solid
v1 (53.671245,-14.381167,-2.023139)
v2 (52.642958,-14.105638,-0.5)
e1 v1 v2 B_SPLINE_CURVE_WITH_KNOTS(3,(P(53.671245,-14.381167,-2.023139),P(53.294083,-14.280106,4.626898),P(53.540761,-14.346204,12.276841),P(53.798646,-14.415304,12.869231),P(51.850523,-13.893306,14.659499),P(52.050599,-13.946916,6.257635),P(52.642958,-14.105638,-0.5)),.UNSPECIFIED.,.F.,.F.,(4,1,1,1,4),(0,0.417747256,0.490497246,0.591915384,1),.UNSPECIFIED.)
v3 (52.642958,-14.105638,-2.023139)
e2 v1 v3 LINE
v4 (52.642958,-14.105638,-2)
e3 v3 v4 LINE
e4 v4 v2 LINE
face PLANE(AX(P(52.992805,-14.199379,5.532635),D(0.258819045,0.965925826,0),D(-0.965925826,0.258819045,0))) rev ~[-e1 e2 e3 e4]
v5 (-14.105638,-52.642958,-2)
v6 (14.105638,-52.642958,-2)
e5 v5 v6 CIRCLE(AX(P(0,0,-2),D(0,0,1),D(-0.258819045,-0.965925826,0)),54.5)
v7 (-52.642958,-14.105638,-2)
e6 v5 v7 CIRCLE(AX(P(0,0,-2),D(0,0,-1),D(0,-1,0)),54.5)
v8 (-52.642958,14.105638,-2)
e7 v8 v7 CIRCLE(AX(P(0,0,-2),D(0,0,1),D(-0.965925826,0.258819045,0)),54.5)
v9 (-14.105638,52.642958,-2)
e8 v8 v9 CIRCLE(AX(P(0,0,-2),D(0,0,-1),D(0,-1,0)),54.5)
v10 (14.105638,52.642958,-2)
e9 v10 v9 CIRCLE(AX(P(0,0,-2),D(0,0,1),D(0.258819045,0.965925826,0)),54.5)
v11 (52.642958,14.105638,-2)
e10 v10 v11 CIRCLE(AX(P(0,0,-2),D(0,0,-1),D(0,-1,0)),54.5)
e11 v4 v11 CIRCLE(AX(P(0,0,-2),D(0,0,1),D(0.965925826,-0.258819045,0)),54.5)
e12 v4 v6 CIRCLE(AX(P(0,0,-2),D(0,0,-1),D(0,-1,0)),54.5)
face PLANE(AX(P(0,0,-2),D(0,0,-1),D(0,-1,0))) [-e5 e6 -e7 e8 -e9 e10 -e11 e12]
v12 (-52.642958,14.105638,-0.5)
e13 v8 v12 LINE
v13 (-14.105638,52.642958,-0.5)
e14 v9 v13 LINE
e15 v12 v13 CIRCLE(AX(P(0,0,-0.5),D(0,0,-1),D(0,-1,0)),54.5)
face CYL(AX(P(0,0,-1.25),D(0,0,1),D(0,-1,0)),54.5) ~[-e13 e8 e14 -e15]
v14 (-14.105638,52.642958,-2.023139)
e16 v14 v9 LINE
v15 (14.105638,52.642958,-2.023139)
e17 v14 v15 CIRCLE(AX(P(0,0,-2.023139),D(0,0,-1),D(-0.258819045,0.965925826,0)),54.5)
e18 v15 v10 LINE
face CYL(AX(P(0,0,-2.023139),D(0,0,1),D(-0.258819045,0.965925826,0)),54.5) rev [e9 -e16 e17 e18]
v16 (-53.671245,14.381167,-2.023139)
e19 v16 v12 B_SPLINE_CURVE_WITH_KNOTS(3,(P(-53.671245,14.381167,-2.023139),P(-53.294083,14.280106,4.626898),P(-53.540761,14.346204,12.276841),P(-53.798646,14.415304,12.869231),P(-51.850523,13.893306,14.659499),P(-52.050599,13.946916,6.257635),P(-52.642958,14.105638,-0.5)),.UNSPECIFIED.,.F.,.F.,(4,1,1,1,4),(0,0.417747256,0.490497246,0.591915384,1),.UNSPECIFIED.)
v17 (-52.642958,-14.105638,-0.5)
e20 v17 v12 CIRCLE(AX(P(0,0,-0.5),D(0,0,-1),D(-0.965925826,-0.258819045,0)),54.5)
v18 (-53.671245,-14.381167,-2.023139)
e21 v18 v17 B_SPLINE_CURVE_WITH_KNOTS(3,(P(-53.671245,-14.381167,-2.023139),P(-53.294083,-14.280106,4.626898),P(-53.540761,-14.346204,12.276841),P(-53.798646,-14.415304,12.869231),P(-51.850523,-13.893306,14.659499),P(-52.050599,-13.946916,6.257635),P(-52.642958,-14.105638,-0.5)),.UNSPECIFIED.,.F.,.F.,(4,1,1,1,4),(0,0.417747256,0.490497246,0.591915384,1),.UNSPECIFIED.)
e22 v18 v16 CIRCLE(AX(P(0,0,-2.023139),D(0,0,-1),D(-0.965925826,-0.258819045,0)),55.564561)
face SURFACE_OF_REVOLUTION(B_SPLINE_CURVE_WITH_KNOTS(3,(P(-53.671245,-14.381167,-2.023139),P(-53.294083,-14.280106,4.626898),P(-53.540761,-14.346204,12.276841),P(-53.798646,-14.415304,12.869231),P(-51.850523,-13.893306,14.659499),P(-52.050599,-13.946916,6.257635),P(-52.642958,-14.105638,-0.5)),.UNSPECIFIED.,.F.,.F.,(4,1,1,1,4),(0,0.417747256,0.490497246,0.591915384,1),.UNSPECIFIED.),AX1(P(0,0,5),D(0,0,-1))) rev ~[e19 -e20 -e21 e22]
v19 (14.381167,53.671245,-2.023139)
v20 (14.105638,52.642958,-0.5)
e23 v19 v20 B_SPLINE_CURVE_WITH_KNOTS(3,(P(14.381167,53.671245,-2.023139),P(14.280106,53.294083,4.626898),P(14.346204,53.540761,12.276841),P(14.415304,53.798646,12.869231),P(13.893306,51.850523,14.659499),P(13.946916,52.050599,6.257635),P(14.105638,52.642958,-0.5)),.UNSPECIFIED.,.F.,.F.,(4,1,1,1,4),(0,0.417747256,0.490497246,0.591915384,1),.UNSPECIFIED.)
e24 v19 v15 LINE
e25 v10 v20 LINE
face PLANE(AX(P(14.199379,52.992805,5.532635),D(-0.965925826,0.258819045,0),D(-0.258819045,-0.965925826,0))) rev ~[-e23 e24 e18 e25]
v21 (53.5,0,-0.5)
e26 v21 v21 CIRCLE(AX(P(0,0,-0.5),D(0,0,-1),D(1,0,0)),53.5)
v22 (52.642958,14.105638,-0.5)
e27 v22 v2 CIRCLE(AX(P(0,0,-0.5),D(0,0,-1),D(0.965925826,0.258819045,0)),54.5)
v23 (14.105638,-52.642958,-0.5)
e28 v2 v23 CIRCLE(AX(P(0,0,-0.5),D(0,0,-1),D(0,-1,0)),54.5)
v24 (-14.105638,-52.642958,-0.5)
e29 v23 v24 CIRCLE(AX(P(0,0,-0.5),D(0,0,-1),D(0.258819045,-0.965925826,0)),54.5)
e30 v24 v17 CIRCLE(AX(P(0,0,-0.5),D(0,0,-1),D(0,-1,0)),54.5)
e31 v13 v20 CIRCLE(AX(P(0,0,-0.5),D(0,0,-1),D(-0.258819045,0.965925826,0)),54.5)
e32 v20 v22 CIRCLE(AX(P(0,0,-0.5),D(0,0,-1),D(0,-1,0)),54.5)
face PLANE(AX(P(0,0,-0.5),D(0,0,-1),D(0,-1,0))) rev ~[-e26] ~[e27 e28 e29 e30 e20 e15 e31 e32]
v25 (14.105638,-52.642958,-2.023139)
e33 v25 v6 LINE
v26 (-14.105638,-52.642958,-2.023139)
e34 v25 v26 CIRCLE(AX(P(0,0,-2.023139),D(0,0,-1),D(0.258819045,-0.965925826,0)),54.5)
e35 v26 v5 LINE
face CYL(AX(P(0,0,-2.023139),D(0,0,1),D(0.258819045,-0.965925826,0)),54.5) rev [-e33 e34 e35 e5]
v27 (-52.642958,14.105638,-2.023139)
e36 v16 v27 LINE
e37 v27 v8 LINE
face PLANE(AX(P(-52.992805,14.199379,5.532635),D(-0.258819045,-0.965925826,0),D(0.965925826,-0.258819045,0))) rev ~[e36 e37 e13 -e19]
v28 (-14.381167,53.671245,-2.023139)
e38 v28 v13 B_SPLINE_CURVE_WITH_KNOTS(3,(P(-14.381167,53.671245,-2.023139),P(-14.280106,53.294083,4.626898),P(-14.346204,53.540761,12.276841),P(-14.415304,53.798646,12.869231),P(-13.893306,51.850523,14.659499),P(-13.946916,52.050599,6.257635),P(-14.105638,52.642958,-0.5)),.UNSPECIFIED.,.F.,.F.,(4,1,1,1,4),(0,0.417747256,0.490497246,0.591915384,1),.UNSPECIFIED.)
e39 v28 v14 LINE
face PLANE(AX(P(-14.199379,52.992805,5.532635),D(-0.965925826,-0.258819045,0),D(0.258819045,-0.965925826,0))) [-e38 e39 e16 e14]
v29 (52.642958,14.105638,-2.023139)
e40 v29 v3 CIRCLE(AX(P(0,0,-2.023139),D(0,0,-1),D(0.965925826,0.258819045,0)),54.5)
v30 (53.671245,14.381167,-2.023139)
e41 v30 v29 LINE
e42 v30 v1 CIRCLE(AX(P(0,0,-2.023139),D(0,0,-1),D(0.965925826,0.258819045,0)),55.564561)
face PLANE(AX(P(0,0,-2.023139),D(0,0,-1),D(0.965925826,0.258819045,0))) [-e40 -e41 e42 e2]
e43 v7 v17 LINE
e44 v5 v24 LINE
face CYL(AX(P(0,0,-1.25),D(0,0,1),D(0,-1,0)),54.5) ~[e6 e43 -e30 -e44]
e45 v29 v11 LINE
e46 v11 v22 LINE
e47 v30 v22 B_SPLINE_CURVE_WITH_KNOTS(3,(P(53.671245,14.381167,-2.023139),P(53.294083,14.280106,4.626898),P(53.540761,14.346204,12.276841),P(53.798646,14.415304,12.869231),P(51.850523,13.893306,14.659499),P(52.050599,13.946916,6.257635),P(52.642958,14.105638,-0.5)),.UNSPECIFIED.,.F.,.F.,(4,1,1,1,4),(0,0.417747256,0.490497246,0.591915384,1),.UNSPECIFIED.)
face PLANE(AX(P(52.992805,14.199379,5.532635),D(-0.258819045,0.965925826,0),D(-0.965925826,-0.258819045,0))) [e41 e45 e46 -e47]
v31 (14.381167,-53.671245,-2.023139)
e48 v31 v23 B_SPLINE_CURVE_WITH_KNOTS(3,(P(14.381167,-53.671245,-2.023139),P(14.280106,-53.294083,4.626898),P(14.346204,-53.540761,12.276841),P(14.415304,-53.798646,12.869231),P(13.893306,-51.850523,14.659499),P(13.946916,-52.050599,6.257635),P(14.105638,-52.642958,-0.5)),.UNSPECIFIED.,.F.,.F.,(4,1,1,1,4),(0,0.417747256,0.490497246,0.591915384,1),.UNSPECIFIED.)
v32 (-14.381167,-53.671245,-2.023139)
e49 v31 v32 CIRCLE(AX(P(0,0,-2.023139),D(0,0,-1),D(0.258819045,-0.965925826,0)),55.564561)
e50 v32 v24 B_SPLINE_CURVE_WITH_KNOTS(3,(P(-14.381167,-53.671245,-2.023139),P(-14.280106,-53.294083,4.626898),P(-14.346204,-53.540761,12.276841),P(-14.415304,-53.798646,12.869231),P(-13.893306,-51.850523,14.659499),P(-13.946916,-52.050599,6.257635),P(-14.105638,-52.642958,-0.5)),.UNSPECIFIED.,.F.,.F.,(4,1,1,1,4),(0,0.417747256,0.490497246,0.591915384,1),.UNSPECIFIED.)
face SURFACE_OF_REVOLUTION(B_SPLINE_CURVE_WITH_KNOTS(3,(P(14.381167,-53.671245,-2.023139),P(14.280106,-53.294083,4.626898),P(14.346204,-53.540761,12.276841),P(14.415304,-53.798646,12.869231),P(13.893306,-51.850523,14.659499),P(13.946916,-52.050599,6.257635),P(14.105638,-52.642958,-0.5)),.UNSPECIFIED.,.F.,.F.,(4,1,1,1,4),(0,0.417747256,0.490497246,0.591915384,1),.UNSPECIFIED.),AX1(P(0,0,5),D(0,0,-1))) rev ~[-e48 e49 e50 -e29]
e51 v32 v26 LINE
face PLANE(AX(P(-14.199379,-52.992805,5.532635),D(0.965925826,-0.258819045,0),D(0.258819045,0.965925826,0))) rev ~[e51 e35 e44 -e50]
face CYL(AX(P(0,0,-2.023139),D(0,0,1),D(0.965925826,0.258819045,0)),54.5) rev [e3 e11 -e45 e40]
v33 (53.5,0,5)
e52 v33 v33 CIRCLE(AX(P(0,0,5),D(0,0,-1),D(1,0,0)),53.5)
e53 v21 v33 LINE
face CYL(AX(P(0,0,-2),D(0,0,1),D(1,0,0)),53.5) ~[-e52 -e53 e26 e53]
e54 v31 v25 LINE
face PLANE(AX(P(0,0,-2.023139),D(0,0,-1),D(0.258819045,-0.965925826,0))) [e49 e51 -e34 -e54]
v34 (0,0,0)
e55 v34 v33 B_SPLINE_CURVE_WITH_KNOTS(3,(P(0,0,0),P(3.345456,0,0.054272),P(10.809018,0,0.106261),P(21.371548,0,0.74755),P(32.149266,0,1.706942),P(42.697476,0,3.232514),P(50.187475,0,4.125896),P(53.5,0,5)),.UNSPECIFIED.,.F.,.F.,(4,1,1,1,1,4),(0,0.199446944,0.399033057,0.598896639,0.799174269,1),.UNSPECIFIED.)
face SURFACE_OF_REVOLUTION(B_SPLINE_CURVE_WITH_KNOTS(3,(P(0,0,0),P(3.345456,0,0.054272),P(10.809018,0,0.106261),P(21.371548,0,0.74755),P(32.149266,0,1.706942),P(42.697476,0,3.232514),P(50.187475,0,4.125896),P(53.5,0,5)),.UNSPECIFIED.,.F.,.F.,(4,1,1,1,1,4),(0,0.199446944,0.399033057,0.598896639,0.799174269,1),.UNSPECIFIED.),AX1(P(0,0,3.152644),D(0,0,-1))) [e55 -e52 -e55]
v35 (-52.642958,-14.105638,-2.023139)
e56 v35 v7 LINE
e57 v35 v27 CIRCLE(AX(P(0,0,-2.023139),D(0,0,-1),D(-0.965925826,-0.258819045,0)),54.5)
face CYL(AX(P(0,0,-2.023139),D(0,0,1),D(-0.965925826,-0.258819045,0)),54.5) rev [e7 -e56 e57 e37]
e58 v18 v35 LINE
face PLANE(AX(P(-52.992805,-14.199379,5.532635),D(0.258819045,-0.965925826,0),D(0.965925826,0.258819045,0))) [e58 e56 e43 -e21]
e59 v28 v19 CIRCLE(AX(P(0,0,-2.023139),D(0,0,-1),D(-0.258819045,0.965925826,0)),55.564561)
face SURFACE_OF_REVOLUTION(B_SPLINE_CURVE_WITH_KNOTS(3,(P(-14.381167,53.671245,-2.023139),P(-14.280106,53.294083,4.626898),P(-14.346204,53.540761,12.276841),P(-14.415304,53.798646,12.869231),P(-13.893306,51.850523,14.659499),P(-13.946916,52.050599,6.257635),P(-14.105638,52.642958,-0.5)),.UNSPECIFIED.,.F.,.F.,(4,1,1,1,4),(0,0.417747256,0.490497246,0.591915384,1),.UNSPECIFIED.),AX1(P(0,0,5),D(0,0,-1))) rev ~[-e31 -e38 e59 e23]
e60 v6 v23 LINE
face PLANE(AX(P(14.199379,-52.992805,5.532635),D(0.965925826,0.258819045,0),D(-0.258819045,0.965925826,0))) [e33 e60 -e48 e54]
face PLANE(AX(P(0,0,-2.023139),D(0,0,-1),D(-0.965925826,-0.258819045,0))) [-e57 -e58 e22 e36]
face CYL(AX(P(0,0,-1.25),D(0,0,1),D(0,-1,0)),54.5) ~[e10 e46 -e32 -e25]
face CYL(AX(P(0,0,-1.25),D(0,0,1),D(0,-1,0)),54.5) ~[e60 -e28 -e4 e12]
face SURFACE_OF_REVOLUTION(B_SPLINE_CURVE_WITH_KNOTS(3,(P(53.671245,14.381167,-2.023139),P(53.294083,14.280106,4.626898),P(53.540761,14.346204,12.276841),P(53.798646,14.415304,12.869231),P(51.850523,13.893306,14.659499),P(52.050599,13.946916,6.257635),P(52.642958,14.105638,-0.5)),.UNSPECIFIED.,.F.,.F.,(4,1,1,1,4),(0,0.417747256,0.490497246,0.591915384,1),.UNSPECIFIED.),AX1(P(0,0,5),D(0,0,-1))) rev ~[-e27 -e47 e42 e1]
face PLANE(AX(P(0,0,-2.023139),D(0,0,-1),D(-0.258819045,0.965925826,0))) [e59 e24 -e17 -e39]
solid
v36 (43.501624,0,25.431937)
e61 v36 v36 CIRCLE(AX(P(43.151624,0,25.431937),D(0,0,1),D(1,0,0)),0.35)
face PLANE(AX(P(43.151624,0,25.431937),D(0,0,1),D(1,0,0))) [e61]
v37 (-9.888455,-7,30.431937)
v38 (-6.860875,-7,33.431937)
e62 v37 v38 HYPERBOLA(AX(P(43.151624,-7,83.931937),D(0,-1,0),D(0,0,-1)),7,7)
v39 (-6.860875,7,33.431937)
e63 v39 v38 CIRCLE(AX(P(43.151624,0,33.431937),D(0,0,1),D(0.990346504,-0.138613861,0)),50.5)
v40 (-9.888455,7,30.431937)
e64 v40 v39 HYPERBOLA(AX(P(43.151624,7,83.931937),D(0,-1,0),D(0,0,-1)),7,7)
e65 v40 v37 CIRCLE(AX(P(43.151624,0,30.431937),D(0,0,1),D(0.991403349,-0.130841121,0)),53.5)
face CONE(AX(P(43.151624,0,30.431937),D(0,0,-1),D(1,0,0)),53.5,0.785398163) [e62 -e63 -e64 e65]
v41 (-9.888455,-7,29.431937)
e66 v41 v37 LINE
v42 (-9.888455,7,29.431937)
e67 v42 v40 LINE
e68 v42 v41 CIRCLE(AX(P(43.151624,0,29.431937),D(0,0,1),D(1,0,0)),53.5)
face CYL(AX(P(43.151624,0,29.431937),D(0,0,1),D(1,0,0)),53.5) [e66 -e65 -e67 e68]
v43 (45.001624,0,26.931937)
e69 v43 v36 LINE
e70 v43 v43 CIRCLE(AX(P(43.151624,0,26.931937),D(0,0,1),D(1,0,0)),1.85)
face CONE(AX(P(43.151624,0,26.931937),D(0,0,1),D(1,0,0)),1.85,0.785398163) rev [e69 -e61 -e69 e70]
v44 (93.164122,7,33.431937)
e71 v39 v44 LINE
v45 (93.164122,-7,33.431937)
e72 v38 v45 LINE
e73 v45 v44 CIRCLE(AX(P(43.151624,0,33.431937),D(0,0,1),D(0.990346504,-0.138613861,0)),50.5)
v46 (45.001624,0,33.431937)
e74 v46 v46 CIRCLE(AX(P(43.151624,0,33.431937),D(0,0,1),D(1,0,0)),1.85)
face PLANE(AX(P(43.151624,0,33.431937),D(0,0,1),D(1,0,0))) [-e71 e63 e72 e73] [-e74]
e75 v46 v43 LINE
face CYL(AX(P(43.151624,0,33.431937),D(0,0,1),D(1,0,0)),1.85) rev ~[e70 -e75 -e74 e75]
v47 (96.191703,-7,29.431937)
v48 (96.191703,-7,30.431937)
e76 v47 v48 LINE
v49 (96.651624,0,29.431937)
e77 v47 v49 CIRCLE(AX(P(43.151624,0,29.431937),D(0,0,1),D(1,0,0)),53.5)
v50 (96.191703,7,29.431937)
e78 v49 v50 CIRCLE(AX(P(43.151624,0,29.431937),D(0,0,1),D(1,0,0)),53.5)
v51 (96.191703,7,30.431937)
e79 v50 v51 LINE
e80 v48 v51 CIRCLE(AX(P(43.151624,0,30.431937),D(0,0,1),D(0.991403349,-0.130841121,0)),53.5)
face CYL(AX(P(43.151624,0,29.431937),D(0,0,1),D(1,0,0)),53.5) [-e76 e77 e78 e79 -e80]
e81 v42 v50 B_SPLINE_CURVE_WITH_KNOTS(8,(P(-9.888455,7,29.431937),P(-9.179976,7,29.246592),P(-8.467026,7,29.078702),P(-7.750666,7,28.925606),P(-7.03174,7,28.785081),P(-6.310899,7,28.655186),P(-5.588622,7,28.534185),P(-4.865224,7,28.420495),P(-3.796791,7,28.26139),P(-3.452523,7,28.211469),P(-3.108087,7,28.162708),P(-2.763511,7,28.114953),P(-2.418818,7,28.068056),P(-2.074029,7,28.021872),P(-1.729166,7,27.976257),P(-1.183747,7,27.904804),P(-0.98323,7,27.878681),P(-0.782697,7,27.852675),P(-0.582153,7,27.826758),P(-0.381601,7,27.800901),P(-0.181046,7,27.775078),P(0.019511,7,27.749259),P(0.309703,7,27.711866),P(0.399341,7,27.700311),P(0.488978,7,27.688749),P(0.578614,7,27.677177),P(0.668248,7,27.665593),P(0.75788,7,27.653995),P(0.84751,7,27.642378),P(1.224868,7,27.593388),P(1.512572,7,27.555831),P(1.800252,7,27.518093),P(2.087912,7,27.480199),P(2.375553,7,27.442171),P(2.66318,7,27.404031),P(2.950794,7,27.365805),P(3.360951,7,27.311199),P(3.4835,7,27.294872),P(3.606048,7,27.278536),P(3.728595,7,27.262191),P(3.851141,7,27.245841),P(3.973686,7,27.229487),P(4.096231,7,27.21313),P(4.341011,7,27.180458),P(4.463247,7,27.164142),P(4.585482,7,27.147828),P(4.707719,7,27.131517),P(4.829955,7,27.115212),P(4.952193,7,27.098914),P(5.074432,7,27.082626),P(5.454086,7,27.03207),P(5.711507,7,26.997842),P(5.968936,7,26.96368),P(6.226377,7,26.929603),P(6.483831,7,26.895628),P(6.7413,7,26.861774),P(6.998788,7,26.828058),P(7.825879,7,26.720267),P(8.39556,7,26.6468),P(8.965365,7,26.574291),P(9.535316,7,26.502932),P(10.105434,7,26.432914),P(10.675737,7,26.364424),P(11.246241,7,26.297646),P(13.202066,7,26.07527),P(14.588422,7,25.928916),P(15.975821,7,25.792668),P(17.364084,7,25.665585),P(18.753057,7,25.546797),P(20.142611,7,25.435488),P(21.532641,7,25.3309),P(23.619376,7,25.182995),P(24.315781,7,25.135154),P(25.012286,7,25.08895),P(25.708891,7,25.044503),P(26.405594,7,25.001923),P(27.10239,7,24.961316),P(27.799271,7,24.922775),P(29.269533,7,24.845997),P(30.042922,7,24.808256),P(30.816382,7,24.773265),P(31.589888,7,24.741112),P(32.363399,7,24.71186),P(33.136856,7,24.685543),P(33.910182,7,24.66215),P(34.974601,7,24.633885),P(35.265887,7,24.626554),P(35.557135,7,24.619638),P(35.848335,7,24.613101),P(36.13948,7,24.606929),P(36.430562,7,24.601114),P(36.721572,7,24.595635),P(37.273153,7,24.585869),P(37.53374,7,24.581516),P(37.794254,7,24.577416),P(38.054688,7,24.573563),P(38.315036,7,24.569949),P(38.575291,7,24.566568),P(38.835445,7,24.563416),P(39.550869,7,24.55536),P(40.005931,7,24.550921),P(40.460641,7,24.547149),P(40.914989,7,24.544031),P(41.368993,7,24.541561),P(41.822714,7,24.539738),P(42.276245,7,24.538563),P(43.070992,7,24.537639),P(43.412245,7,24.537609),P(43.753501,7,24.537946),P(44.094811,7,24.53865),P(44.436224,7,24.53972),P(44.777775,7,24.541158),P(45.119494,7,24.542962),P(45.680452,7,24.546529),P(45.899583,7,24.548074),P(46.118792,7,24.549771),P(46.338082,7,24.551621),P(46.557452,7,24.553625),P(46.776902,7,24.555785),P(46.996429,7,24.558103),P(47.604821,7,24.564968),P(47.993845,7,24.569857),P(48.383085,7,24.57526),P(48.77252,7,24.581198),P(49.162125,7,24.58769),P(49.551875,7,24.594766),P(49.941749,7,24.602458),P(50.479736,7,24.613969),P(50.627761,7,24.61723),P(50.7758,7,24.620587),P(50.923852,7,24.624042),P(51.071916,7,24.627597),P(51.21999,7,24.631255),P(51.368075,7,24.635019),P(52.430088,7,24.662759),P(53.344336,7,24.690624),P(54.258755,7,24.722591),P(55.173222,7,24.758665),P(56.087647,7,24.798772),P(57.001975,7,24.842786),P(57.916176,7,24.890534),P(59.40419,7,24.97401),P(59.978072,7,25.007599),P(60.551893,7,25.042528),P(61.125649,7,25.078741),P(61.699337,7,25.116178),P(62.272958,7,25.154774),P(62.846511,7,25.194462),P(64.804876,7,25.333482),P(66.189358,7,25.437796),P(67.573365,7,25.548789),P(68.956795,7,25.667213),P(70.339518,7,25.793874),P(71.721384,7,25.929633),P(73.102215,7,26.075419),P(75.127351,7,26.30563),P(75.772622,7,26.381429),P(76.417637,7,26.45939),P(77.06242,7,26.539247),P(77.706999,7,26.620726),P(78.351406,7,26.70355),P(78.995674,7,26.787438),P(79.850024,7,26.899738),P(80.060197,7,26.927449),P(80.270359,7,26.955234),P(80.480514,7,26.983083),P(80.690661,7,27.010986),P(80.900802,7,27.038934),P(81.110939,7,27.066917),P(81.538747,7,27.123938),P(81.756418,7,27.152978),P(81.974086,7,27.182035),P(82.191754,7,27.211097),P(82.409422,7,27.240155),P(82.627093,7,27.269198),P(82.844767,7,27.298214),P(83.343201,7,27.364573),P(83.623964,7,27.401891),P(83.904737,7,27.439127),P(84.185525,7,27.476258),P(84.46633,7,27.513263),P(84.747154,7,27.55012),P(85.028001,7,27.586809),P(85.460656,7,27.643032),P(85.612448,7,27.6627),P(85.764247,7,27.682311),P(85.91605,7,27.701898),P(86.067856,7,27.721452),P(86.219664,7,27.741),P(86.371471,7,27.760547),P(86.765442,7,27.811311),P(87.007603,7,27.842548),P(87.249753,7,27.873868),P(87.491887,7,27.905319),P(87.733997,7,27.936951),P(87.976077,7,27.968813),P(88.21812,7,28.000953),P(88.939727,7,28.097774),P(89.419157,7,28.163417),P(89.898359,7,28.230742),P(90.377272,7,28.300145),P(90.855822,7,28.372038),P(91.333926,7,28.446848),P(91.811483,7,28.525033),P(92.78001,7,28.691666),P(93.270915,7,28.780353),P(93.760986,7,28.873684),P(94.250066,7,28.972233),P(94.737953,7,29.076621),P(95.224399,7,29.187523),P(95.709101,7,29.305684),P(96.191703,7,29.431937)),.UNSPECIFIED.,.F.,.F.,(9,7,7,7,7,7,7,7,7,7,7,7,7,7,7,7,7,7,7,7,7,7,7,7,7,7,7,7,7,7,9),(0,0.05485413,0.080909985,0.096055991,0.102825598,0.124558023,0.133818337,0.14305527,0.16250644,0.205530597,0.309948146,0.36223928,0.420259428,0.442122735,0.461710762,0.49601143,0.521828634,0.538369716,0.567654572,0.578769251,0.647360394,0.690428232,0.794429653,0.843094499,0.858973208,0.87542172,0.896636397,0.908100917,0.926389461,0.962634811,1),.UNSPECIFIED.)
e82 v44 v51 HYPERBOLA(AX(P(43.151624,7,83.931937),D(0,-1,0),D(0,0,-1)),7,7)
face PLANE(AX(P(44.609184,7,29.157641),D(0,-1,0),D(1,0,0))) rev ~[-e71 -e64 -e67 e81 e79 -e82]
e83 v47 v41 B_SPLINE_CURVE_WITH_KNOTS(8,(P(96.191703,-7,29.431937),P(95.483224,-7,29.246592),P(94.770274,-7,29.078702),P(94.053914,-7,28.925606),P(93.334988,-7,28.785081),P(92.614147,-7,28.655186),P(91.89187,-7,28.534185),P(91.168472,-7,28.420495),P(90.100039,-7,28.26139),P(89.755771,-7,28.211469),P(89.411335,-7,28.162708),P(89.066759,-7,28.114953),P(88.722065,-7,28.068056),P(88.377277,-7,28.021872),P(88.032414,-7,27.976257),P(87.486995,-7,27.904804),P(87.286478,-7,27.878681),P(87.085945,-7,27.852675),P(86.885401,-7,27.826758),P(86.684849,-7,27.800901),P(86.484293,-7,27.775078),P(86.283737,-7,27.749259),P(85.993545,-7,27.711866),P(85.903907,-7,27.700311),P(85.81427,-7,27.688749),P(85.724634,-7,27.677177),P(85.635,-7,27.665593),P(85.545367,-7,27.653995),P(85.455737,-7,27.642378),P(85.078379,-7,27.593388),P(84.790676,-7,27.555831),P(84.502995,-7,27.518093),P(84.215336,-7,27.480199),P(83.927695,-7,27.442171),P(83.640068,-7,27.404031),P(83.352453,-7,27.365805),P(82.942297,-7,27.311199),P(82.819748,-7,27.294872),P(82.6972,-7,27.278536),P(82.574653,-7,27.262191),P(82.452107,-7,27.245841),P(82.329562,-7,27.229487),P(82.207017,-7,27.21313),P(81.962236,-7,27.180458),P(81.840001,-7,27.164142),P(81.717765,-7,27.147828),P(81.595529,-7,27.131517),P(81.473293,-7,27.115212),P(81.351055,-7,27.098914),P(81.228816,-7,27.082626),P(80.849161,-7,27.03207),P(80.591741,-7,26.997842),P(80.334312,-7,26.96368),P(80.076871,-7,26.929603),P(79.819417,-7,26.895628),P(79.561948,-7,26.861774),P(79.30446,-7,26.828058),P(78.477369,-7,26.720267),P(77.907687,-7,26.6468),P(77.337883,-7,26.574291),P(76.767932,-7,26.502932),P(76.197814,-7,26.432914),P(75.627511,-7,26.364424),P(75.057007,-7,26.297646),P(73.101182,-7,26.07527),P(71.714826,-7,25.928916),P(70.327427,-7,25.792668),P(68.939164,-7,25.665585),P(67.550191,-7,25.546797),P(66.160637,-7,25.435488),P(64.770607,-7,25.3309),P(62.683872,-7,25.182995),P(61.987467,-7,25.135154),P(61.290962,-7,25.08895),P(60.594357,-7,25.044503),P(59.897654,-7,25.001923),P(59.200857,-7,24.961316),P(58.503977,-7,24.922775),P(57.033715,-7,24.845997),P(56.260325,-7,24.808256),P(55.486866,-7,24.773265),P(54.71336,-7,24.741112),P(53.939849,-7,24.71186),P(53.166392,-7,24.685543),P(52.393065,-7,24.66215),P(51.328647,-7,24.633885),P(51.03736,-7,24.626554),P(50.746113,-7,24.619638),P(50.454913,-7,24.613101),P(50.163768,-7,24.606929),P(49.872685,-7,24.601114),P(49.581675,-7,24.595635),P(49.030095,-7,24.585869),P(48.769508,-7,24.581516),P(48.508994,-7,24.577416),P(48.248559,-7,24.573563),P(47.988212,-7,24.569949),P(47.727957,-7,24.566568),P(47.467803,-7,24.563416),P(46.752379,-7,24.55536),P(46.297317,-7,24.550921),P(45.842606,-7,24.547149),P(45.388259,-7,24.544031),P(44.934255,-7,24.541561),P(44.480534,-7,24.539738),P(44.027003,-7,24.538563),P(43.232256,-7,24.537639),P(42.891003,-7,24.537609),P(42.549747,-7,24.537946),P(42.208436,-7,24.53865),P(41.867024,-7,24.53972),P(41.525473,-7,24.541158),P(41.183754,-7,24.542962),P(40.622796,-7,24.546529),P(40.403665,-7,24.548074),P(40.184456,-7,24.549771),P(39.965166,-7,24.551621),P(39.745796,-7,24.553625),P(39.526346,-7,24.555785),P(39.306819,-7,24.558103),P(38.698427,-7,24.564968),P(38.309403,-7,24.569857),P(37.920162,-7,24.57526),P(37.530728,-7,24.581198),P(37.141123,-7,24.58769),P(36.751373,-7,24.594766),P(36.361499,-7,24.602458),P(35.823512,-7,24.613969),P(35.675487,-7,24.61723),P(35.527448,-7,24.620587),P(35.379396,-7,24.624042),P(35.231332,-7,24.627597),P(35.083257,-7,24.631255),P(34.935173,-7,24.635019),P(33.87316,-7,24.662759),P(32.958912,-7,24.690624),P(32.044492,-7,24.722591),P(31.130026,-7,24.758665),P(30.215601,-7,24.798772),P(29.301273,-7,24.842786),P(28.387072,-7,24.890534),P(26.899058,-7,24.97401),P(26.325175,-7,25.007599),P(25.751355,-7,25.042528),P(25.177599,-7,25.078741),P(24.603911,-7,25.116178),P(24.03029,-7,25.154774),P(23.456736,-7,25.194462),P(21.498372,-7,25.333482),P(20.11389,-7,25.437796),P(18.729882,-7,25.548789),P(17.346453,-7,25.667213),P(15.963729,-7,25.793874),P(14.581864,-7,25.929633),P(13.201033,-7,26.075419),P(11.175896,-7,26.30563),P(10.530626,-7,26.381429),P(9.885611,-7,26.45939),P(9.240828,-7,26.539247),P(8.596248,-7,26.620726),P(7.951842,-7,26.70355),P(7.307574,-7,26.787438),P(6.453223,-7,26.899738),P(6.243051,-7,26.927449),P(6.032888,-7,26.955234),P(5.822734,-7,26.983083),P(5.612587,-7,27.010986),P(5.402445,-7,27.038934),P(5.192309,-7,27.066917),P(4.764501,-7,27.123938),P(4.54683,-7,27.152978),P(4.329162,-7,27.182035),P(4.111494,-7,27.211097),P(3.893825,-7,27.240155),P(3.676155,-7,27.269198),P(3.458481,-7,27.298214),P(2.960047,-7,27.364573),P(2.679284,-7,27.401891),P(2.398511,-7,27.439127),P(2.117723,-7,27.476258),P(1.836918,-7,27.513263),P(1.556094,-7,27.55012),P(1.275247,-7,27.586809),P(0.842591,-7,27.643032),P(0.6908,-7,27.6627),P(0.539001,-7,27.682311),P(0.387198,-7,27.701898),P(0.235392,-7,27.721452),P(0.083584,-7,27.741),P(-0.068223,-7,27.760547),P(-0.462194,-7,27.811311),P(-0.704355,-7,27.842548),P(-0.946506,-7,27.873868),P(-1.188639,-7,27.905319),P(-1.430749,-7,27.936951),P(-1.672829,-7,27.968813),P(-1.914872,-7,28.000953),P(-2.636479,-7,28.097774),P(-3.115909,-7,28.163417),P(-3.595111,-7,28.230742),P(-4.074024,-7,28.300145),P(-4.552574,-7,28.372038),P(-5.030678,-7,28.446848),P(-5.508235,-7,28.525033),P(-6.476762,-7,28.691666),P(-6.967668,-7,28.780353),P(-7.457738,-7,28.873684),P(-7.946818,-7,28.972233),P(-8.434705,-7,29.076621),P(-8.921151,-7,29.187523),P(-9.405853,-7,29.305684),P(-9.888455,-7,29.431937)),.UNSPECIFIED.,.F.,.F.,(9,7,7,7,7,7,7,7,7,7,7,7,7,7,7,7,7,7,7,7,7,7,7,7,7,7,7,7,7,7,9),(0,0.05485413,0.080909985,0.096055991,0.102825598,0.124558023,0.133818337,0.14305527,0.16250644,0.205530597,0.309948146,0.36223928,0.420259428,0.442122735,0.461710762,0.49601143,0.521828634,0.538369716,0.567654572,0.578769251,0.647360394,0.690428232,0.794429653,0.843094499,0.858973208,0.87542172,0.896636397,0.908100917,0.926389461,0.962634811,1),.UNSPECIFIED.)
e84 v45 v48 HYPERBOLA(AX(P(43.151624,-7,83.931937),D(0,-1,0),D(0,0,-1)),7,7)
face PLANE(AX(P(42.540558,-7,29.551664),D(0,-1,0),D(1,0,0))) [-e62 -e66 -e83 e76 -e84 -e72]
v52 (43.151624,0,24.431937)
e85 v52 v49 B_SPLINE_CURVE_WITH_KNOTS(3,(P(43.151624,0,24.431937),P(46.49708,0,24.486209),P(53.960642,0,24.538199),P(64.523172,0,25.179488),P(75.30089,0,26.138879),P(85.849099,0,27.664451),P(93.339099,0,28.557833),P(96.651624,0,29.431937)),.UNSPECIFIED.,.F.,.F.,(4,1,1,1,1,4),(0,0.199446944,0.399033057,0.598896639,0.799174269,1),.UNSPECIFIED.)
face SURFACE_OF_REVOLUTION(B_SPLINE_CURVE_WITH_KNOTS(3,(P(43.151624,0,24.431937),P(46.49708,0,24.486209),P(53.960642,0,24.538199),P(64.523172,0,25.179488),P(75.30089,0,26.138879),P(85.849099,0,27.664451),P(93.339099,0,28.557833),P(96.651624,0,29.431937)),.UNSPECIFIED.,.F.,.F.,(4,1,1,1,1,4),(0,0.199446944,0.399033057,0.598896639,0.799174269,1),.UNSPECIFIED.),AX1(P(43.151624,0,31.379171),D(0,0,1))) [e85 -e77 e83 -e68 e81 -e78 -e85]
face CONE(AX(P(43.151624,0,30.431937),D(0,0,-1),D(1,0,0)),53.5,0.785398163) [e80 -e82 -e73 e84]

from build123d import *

# Parameters (mm, degrees)
F2_W          = 1
F2_H          = 1.5
F5_ANGLE_BACK = 15
F5_ANGLE      = 30
F6_COUNT      = 4
F9_R          = 1.85
F10_DEPTH     = 8
F11_SIZE      = 1.5
F13_W         = 113.6754006147
F13_H         = 18.7160558999
F14_DEPTH     = 50
F16_W         = 117.0245949179
F16_H         = 20.686166361
F17_DEPTH     = 50


with BuildPart() as f1:
    # F0 (on Front) → F1 (revolve)
    with BuildSketch(Plane.XZ):
        with BuildLine():
            Line((53.5, -2), (53.5, 0))
            Line((53.5, 0), (53.5, 5))
            add(Edge.make_bspline(
                [(0, 0), (3.3454558218, 0.0542717682), (10.8090176432, 0.1062614393), (21.371548013, 0.7475503182), (32.1492656057, 1.7069419401), (42.6974755209, 3.2325135719), (50.1874747626, 4.1258961012), (53.5, 5)],
                knots=[0, 0, 0, 0, 0.1994469438, 0.399033057, 0.5988966387, 0.7991742689, 1, 1, 1, 1], degree=3))
            Line((0, 0), (0, -2))
            Line((0, -2), (53.5, -2))
        make_face()
    revolve(axis=Axis((0, 0, 3.1526437961), (0, 0, -1)))

    # F2 (on Right) → F3 (revolve)
    with BuildSketch(Plane.YZ):
        with Locations((-54, -1.25)):
            Rectangle(F2_W, F2_H)
    revolve(axis=Axis((0, 0, -2), (0, 0, -1)))

    # F4 (on Right) → F5 (revolve)
    with BuildSketch(Plane.YZ, mode=Mode.PRIVATE) as f5_sk:
        with BuildLine():
            Line((-54.5, -2.0231393045), (-54.5, -0.5))
            add(Edge.make_bspline(
                [(-55.5645613074, -2.0231393045), (-55.1740945906, 4.6268983834), (-55.4294740387, 12.2768407368), (-55.6964571803, 12.8692312974), (-53.6796113799, 14.6594986263), (-53.8867457037, 6.2576345636), (-54.5, -0.5)],
                knots=[0, 0, 0, 0, 0.417747256, 0.4904972457, 0.5919153843, 1, 1, 1, 1], degree=3))
            Line((-55.5645613074, -2.0231393045), (-54.5, -2.0231393045))
        make_face()
    revolve(f5_sk.sketch.rotate(Axis((0, 0, 5), (0, 0, -1)), -F5_ANGLE_BACK), axis=Axis((0, 0, 5), (0, 0, -1)), revolution_arc=F5_ANGLE)

    # F6: F1 ×4 about axis
    f6_axis = Axis((0, 0, 5), (0, 0, -1))


with BuildPart() as f1_1:
    add(f1.part)
    for i in range(1, F6_COUNT):
        add(f1.part.rotate(f6_axis, i * 360 / F6_COUNT))


with BuildPart() as f8:
    # F7 (on Front) → F8 (revolve)
    with BuildSketch(Plane.XZ):
        with BuildLine():
            Line((43.1516239118, 30.4319373556), (43.1516239118, 24.4319373556))
            add(Edge.make_bspline(
                [(43.1516239118, 24.4319373556), (46.4970797336, 24.4862091238), (53.960641555, 24.5381987949), (64.5231719249, 25.1794876738), (75.3008895176, 26.1388792956), (85.8490994327, 27.6644509275), (93.3390986744, 28.5578334567), (96.6516239118, 29.4319373556)],
                knots=[0, 0, 0, 0, 0.1994469438, 0.399033057, 0.5988966387, 0.7991742689, 1, 1, 1, 1], degree=3))
            Line((96.6516239118, 29.4319373556), (96.6516239118, 30.4319373556))
            Line((96.6516239118, 30.4319373556), (93.6516239118, 33.4319373556))
            Line((93.6516239118, 33.4319373556), (43.1516239118, 33.4319373556))
            Line((43.1516239118, 33.4319373556), (43.1516239118, 30.4319373556))
        make_face()
    revolve(axis=Axis((43.1516239118, 0, 31.3791711722), (0, 0, 1)))

    # F9 (on face) → F10 (cut)
    with BuildSketch(Plane.XY.offset(33.4319373556)):
        with Locations((43.1516239118, 0)):
            Circle(F9_R)
    extrude(amount=-F10_DEPTH, mode=Mode.SUBTRACT)

    # F11
    f11_edges = [f8.edges().sort_by_distance(p)[0] for p in [
        (41.301624, 0, 25.431937),
    ]]
    chamfer(f11_edges, length=F11_SIZE)

    # F13 (on offset) → F14 (cut)
    with BuildSketch(Plane.XZ.offset(7)):
        with Locations((42.5405576825, 29.5516643673)):
            Rectangle(F13_W, F13_H)
    extrude(amount=F14_DEPTH, mode=Mode.SUBTRACT)

    # F16 (on offset) → F17 (cut)
    with BuildSketch(Plane.XZ.offset(-7)):
        with Locations((44.6091843769, 29.1576413438)):
            Rectangle(F16_W, F16_H)
    extrude(amount=-F17_DEPTH, mode=Mode.SUBTRACT)


solid = Compound([f1_1.part, f8.part])
